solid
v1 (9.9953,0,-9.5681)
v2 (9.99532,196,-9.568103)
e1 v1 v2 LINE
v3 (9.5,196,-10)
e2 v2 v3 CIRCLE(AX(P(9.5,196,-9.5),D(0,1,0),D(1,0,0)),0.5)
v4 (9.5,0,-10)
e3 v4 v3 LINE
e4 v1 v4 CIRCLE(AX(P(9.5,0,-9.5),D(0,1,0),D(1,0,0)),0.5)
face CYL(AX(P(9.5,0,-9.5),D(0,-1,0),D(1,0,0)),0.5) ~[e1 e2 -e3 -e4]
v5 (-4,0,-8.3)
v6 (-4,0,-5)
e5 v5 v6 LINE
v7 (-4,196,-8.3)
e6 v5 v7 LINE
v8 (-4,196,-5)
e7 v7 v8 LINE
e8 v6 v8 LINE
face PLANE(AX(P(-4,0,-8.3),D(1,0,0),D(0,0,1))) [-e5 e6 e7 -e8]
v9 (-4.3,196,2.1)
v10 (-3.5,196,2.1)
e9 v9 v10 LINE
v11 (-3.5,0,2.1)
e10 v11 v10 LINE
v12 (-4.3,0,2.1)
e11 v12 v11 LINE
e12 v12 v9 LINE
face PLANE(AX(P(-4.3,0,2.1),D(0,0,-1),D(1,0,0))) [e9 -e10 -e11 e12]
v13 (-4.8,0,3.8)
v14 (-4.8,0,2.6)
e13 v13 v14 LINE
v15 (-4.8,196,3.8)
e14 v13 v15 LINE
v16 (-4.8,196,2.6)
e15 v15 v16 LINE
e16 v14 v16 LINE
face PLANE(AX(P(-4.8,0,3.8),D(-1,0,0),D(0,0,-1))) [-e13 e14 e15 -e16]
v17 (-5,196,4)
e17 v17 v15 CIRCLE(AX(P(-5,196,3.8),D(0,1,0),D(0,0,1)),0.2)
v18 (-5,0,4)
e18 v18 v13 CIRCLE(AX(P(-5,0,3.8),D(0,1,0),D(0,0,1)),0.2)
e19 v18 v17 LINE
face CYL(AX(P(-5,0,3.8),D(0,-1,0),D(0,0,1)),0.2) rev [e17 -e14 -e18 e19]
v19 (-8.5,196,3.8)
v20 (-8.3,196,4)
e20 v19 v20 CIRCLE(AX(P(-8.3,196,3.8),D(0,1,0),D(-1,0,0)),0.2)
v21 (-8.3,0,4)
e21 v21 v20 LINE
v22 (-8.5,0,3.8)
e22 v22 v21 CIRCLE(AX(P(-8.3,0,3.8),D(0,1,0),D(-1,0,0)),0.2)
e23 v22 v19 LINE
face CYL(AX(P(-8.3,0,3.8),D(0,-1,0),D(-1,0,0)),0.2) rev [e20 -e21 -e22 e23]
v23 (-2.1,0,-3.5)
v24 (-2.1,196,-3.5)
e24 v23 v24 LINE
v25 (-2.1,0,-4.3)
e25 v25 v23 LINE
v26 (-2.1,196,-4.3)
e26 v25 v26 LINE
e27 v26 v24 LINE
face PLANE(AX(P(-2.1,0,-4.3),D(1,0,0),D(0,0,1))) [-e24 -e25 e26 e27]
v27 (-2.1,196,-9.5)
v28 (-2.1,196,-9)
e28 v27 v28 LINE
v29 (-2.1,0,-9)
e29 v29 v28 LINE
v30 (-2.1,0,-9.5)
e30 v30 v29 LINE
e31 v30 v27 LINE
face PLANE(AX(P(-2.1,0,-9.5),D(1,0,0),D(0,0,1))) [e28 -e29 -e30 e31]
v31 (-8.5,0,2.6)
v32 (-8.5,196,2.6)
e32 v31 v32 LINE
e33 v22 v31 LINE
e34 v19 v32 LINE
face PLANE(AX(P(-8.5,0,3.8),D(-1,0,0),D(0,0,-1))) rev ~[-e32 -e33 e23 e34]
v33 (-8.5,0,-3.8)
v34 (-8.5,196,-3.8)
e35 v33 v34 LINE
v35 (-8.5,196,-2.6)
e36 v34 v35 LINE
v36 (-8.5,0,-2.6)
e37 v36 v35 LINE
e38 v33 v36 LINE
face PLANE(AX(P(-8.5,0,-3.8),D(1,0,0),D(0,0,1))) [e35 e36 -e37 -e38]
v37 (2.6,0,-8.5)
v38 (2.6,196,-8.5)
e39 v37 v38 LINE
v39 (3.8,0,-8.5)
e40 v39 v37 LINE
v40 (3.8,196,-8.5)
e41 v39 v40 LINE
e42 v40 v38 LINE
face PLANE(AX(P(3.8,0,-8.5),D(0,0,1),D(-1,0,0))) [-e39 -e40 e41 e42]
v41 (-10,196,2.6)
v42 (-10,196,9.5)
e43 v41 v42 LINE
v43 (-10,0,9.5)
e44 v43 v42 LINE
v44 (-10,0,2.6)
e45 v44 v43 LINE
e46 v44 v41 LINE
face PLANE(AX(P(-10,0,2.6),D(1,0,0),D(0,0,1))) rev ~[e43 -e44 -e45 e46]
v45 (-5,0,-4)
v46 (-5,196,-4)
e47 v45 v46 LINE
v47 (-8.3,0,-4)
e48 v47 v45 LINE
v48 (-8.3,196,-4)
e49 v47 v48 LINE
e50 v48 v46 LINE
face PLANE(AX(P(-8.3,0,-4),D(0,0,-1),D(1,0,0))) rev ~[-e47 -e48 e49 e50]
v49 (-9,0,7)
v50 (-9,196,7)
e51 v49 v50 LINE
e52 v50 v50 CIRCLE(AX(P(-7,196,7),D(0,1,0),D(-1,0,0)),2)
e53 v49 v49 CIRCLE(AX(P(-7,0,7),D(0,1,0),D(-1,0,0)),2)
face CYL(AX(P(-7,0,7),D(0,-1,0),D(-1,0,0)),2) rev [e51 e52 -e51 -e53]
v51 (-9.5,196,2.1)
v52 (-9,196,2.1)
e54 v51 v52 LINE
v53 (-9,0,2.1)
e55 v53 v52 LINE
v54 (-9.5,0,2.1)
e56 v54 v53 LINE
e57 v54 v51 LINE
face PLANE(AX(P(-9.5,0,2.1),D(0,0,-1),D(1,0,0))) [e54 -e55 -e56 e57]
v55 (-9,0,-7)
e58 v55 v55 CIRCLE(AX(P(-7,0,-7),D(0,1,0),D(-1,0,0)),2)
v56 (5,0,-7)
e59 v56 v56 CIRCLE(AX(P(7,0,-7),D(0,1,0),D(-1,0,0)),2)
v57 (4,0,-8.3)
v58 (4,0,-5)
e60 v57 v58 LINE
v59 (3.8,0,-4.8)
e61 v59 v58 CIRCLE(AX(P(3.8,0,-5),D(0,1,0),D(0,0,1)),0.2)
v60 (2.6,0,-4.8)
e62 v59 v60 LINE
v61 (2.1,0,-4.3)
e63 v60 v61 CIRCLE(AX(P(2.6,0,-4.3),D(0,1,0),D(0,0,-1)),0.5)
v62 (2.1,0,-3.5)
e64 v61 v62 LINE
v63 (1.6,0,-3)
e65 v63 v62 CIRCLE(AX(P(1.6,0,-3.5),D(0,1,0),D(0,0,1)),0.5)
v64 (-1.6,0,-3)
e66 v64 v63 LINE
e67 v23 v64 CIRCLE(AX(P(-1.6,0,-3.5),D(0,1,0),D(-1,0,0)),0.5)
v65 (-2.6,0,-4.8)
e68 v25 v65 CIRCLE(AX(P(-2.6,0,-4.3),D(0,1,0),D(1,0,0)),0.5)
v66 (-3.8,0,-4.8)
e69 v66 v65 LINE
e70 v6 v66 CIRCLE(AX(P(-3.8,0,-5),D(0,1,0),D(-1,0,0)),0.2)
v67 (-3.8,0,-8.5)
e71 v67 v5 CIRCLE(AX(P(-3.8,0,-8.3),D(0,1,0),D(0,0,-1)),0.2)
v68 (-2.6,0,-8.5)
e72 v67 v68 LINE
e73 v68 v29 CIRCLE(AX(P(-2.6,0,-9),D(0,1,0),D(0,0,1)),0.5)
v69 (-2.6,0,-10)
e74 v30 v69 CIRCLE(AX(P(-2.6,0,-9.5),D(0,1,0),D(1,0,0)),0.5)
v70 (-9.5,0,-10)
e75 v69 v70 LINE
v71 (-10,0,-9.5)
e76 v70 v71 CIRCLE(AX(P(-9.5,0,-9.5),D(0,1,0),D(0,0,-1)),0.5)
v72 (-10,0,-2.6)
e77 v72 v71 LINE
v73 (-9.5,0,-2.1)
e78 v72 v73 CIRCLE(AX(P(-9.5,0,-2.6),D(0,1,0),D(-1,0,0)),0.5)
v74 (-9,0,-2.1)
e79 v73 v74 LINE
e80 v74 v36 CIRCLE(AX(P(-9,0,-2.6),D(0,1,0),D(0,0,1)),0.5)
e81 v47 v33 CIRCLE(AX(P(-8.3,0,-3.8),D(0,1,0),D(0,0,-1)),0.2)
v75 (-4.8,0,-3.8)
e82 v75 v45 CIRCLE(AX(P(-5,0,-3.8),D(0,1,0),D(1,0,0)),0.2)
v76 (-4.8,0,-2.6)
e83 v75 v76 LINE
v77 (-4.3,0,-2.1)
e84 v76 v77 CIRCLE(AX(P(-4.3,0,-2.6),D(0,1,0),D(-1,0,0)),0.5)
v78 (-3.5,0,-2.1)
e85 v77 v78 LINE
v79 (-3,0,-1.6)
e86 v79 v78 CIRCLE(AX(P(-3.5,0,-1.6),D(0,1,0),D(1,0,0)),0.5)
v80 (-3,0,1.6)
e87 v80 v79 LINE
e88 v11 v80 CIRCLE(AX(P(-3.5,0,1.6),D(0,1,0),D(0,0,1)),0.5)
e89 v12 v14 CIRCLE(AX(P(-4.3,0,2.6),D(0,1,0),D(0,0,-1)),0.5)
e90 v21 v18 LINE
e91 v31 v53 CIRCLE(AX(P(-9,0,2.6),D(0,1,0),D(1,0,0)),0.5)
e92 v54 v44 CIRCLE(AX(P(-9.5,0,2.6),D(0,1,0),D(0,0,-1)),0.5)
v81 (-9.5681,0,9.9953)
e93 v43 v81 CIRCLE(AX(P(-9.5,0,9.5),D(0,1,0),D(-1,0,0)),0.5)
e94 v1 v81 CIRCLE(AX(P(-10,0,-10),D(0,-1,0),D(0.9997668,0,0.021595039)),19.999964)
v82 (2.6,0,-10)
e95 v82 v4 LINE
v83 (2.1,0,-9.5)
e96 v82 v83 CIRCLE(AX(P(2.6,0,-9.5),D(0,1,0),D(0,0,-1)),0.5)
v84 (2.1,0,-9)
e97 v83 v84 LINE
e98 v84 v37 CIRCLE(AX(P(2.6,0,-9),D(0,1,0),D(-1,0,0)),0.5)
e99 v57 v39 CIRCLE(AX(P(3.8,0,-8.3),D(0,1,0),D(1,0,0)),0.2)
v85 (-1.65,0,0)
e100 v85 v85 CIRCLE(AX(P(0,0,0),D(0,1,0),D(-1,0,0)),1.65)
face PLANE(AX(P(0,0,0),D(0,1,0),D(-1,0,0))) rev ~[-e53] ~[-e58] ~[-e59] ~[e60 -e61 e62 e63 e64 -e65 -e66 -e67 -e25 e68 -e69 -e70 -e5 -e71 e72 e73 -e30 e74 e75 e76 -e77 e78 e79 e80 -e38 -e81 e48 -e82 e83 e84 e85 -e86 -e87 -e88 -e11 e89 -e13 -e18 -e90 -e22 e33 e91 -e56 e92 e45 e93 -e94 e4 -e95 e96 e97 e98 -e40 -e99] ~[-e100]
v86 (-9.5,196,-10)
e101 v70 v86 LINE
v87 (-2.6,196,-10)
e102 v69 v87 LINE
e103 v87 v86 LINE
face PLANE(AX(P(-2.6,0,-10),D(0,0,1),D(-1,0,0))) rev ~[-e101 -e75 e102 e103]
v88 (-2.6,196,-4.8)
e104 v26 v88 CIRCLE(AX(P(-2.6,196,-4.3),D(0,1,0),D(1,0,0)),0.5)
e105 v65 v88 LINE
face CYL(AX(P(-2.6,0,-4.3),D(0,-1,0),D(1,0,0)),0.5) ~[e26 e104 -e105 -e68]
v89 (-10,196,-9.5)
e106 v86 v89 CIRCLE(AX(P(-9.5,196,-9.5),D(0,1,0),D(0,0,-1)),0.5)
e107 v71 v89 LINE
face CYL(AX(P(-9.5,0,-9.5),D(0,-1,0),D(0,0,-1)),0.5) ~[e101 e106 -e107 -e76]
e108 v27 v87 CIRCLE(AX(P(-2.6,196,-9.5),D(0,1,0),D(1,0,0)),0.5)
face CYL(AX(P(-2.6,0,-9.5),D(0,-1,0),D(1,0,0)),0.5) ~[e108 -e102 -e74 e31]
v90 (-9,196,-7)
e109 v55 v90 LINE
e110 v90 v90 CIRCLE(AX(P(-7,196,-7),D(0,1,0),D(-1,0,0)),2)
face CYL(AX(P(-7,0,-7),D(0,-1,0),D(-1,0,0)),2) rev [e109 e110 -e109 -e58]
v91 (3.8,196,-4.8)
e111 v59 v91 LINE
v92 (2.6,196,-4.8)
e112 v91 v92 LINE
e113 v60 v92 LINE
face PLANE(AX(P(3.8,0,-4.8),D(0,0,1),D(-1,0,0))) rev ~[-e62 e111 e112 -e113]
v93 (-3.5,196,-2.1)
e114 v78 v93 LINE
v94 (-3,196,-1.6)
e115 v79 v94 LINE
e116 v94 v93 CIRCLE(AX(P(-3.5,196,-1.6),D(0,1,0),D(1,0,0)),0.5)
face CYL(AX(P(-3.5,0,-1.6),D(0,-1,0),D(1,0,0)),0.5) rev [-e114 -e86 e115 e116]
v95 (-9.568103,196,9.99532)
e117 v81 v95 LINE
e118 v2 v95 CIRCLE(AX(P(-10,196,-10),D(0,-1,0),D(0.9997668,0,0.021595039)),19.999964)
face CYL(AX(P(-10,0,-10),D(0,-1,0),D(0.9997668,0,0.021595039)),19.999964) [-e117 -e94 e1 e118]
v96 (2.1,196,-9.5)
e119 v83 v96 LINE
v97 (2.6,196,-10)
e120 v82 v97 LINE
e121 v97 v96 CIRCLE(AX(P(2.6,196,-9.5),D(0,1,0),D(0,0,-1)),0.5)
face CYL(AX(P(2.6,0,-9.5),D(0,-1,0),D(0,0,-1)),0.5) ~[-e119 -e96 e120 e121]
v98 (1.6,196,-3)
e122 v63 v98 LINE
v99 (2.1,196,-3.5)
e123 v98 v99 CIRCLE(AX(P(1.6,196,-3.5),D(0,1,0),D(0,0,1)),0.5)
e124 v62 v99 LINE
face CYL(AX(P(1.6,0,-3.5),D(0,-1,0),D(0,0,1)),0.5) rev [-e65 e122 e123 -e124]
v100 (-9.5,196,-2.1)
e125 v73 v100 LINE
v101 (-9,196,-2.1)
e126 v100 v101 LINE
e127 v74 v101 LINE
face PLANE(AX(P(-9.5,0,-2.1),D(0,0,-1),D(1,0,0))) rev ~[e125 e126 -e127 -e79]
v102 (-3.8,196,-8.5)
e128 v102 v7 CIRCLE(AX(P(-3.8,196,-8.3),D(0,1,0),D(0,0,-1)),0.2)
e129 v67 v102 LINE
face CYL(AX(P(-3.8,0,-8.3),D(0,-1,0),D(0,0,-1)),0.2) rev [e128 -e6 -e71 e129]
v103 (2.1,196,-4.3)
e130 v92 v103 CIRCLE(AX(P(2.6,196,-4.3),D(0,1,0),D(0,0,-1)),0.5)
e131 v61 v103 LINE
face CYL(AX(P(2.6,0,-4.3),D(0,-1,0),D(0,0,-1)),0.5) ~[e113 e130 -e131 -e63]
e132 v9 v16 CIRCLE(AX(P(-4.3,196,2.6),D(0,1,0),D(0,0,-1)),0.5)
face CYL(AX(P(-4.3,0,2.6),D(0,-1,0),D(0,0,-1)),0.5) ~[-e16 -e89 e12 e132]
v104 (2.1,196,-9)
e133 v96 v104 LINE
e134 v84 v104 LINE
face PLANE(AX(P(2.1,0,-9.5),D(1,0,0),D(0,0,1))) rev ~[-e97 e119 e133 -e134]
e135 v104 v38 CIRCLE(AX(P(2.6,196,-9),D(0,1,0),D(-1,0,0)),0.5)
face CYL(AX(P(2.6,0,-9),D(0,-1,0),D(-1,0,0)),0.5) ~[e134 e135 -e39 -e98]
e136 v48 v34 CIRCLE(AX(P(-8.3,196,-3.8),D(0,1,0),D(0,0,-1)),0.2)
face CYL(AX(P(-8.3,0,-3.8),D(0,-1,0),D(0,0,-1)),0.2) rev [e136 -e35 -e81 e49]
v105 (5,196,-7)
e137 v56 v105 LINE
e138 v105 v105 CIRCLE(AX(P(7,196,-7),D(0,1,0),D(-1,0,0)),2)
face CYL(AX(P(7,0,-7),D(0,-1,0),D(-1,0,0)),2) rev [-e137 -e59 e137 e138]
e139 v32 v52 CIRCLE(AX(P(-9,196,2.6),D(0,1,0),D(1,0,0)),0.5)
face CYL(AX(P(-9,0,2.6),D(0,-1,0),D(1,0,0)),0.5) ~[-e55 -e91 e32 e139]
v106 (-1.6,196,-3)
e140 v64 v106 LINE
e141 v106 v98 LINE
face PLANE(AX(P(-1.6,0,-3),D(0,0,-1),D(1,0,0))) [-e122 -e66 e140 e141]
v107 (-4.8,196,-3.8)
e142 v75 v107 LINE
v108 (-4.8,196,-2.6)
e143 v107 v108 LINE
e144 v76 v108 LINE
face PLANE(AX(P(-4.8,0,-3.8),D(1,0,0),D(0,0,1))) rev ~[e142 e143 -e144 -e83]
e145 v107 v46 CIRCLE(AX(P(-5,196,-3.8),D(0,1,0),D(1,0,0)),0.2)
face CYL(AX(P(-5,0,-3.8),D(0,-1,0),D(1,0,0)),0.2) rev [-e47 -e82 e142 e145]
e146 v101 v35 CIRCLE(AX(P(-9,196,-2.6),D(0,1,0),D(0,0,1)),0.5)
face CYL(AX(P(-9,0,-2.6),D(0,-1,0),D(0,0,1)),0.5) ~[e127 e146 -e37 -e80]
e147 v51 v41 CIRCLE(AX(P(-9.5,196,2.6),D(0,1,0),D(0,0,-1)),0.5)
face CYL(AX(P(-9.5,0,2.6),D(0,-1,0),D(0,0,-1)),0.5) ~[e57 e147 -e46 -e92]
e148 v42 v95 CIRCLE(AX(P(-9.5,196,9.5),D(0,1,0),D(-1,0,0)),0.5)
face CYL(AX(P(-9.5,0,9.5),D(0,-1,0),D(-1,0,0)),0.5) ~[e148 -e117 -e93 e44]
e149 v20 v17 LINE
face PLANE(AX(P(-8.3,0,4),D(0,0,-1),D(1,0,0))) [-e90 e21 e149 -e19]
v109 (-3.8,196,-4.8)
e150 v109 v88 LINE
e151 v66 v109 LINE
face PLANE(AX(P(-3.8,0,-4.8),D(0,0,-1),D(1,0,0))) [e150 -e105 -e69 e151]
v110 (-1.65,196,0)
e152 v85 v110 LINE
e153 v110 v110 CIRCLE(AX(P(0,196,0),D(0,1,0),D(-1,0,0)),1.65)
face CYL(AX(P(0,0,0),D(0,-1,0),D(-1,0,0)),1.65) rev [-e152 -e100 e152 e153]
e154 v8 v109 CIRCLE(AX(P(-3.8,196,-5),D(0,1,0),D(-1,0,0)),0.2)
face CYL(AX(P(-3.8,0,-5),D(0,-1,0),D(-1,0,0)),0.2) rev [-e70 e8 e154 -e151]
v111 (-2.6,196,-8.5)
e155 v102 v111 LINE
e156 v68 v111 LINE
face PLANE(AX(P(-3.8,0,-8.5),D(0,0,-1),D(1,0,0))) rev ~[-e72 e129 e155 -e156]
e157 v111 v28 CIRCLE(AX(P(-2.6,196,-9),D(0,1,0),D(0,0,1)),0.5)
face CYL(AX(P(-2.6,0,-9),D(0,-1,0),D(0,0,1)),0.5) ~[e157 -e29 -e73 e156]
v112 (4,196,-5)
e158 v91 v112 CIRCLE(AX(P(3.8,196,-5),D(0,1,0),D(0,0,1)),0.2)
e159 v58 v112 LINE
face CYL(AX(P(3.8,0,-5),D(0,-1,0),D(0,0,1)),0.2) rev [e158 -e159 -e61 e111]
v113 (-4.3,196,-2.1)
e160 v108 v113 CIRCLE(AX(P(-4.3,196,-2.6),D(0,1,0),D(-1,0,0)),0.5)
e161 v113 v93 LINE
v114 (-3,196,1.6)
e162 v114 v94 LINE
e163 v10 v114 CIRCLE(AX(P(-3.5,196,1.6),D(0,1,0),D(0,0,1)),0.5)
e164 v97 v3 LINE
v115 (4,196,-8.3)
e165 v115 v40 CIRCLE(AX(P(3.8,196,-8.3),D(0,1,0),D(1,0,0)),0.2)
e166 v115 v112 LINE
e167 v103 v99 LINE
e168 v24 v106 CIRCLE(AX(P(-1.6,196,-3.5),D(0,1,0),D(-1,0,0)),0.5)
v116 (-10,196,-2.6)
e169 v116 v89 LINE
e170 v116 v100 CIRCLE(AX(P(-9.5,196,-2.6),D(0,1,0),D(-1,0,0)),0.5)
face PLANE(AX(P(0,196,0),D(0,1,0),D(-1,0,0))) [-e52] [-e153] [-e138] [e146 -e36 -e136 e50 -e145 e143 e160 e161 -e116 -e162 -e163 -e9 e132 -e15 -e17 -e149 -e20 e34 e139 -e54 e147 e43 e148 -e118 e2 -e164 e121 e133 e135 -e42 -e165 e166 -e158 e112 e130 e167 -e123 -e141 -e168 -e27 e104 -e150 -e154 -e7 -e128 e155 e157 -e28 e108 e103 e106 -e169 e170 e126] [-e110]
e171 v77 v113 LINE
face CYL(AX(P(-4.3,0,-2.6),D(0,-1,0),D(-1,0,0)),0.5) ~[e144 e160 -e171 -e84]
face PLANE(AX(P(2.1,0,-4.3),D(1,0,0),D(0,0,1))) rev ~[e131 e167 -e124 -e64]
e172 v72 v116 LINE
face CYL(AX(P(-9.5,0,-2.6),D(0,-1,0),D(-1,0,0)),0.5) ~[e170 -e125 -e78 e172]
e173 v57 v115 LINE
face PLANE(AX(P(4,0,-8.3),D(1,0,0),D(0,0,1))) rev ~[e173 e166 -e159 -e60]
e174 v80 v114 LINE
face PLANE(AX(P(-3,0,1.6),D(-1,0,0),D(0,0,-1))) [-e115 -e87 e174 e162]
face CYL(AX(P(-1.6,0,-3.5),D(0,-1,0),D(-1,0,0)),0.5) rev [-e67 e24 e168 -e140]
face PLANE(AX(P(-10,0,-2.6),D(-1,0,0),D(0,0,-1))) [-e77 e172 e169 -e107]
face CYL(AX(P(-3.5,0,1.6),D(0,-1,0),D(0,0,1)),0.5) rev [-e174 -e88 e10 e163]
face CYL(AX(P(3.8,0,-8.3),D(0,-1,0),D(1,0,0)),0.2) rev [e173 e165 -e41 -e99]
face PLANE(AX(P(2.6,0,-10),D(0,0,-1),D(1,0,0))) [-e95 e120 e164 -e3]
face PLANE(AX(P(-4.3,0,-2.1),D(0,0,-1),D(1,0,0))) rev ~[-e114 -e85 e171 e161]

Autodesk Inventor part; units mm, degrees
ref_plane "YZ Plane" through (0, 0, 0) normal (1, 0, 0) x (0, 1, 0)
ref_plane "開始平面" through (0, 0, 0) normal (0, 1, 0) x (-1, 0, 0)
ref_plane "終了平面" through (0, 196, 0) normal (0, 1, 0) x (-1, 0, 0)
sketch "スケッチ" plane through (0, 0, 0) normal (0, 1, 0) x (-1, 0, 0)
  line L0 (8.5, -3.8) -> (8.5, -2.6)
  line L1 (4, -8.3) -> (4, -5)
  circle A0 centre (7, -7) radius 2
  line L2 (10, -2.6) -> (10, -9.5)
  line L3 (2.6, -10) -> (9.5, -10)
  line L4 (2.1, -9.5) -> (2.1, -9)
  line L5 (8.5, -2.1) -> (8.5, -4)
  line L6 (3.8, -4.8) -> (2.6, -4.8)
  line L7 (4.8, -3.8) -> (4.8, -2.6)
  arc A1 (2.1, -4.3) -> (2.6, -4.8) centre (2.6, -4.3) ccw
  arc A2 (2.6, -8.5) -> (2.1, -9) centre (2.6, -9) ccw
  arc A3 (3.8, -8.5) -> (4, -8.3) centre (3.8, -8.3) ccw
  arc A4 (4, -5) -> (3.8, -4.8) centre (3.8, -5) ccw
  arc A5 (2.1, -3.5) -> (1.6, -3) centre (1.6, -3.5) ccw
  arc A6 (2.1, -9.5) -> (2.6, -10) centre (2.6, -9.5) ccw
  arc A7 (9.5, -10) -> (10, -9.5) centre (9.5, -9.5) ccw
  arc A8 (10, -2.6) -> (9.5, -2.1) centre (9.5, -2.6) ccw
  arc A9 (9, -2.1) -> (8.5, -2.6) centre (9, -2.6) ccw
  arc A10 (8.3, -4) -> (8.5, -3.8) centre (8.3, -3.8) ccw
  arc A11 (4.8, -3.8) -> (5, -4) centre (5, -3.8) ccw
  line L8 (4.3, -2.1) -> (3.5, -2.1)
  arc A12 (4.8, -2.6) -> (4.3, -2.1) centre (4.3, -2.6) ccw
  arc A13 (3, -1.6) -> (3.5, -2.1) centre (3.5, -1.6) ccw
  line L9 (2.1, -4.3) -> (2.1, -3.5)
  line L10 (3.8, -8.5) -> (2.6, -8.5)
  line L11 (9.5, -2.1) -> (9, -2.1)
  line L12 (8.3, -4) -> (5, -4)
  circle A14 centre (0, 0) radius 1.65
  arc A15 (8.5, 2.6) -> (9, 2.1) centre (9, 2.6) ccw
  line L13 (8.5, 3.8) -> (8.5, 2.6)
  arc A16 (8.5, 3.8) -> (8.3, 4) centre (8.3, 3.8) ccw
  line L14 (8.3, 4) -> (5, 4)
  line L15 (10, 2.6) -> (10, 9.5)
  arc A17 (10, 9.5) -> (9.5, 10) centre (9.5, 9.5) ccw
  circle A18 centre (7, 7) radius 2
  line L16 (4, 8.3) -> (4, 5)
  line L17 (2.6, 10) -> (9.5, 10)
  line L18 (9.5, 2.1) -> (9, 2.1)
  arc A19 (9.5, 2.1) -> (10, 2.6) centre (9.5, 2.6) ccw
  line L19 (3.8, 8.5) -> (2.6, 8.5)
  line L20 (4.8, 3.8) -> (4.8, 2.6)
  arc A20 (4.3, 2.1) -> (4.8, 2.6) centre (4.3, 2.6) ccw
  line L21 (2.1, 8.5) -> (4, 8.5)
  arc A21 (4, 8.3) -> (3.8, 8.5) centre (3.8, 8.3) ccw
  arc A22 (2.1, 9) -> (2.6, 8.5) centre (2.6, 9) ccw
  arc A23 (2.6, 10) -> (2.1, 9.5) centre (2.6, 9.5) ccw
  line L22 (2.1, 9.5) -> (2.1, 9)
  arc A24 (1.6, 3) -> (2.1, 3.5) centre (1.6, 3.5) ccw
  line L23 (3.8, 4.8) -> (2.6, 4.8)
  arc A25 (5, 4) -> (4.8, 3.8) centre (5, 3.8) ccw
  arc A26 (3.8, 4.8) -> (4, 5) centre (3.8, 5) ccw
  line L24 (4.3, 2.1) -> (3.5, 2.1)
  arc A27 (2.6, 4.8) -> (2.1, 4.3) centre (2.6, 4.3) ccw
  line L25 (2.1, 4.3) -> (2.1, 3.5)
  arc A28 (3.5, 2.1) -> (3, 1.6) centre (3.5, 1.6) ccw
  arc A29 (-2.6, 8.5) -> (-2.1, 9) centre (-2.6, 9) ccw
  line L26 (-3.8, 8.5) -> (-2.6, 8.5)
  arc A30 (-3.8, 8.5) -> (-4, 8.3) centre (-3.8, 8.3) ccw
  line L27 (-4, 8.3) -> (-4, 5)
  line L28 (-2.6, 10) -> (-9.5, 10)
  arc A31 (-9.5, 10) -> (-10, 9.5) centre (-9.5, 9.5) ccw
  circle A32 centre (-7, 7) radius 2
  line L29 (-8.3, 4) -> (-5, 4)
  line L30 (-10, 2.6) -> (-10, 9.5)
  line L31 (-2.1, 9.5) -> (-2.1, 9)
  arc A33 (-2.1, 9.5) -> (-2.6, 10) centre (-2.6, 9.5) ccw
  line L32 (-8.5, 3.8) -> (-8.5, 2.6)
  line L33 (-3.8, 4.8) -> (-2.6, 4.8)
  arc A34 (-2.1, 4.3) -> (-2.6, 4.8) centre (-2.6, 4.3) ccw
  line L34 (-8.5, 2.1) -> (-8.5, 4)
  arc A35 (-8.3, 4) -> (-8.5, 3.8) centre (-8.3, 3.8) ccw
  arc A36 (-9, 2.1) -> (-8.5, 2.6) centre (-9, 2.6) ccw
  arc A37 (-10, 2.6) -> (-9.5, 2.1) centre (-9.5, 2.6) ccw
  line L35 (-9.5, 2.1) -> (-9, 2.1)
  arc A38 (-3, 1.6) -> (-3.5, 2.1) centre (-3.5, 1.6) ccw
  line L36 (-4.8, 3.8) -> (-4.8, 2.6)
  arc A39 (-4, 5) -> (-3.8, 4.8) centre (-3.8, 5) ccw
  arc A40 (-4.8, 3.8) -> (-5, 4) centre (-5, 3.8) ccw
  line L37 (-2.1, 4.3) -> (-2.1, 3.5)
  arc A41 (-4.8, 2.6) -> (-4.3, 2.1) centre (-4.3, 2.6) ccw
  line L38 (-4.3, 2.1) -> (-3.5, 2.1)
  arc A42 (-2.1, 3.5) -> (-1.6, 3) centre (-1.6, 3.5) ccw
  arc A43 (-8.5, -2.6) -> (-9, -2.1) centre (-9, -2.6) ccw
  line L39 (-8.5, -3.8) -> (-8.5, -2.6)
  arc A44 (-8.5, -3.8) -> (-8.3, -4) centre (-8.3, -3.8) ccw
  line L40 (-8.3, -4) -> (-5, -4)
  line L41 (-10, -2.6) -> (-10, -9.5)
  arc A45 (-10, -9.5) -> (-9.5, -10) centre (-9.5, -9.5) ccw
  circle A46 centre (-7, -7) radius 2
  line L42 (-4, -8.3) -> (-4, -5)
  line L43 (-2.6, -10) -> (-9.5, -10)
  line L44 (-9.5, -2.1) -> (-9, -2.1)
  arc A47 (-9.5, -2.1) -> (-10, -2.6) centre (-9.5, -2.6) ccw
  line L45 (-3.8, -8.5) -> (-2.6, -8.5)
  line L46 (-4.8, -3.8) -> (-4.8, -2.6)
  arc A48 (-4.3, -2.1) -> (-4.8, -2.6) centre (-4.3, -2.6) ccw
  line L47 (-2.1, -8.5) -> (-4, -8.5)
  arc A49 (-4, -8.3) -> (-3.8, -8.5) centre (-3.8, -8.3) ccw
  arc A50 (-2.1, -9) -> (-2.6, -8.5) centre (-2.6, -9) ccw
  arc A51 (-2.6, -10) -> (-2.1, -9.5) centre (-2.6, -9.5) ccw
  line L48 (-2.1, -9.5) -> (-2.1, -9)
  arc A52 (-1.6, -3) -> (-2.1, -3.5) centre (-1.6, -3.5) ccw
  line L49 (-3.8, -4.8) -> (-2.6, -4.8)
  arc A53 (-5, -4) -> (-4.8, -3.8) centre (-5, -3.8) ccw
  arc A54 (-3.8, -4.8) -> (-4, -5) centre (-3.8, -5) ccw
  line L50 (-4.3, -2.1) -> (-3.5, -2.1)
  arc A55 (-2.6, -4.8) -> (-2.1, -4.3) centre (-2.6, -4.3) ccw
  line L51 (-2.1, -4.3) -> (-2.1, -3.5)
  arc A56 (-3.5, -2.1) -> (-3, -1.6) centre (-3.5, -1.6) ccw
  line L52 (1.6, -3) -> (-1.6, -3)
  line L53 (-3, -1.6) -> (-3, 1.6)
  line L54 (-1.6, 3) -> (1.6, 3)
  line L55 (3, 1.6) -> (3, -1.6)
  point P0 (2.1, -10)
  point P1 (10, 2.1)
  point P2 (-2.1, 10)
  point P3 (-10, -2.1)
  dimension "d12" = 4
  dimension "d14" = 3.7
  dimension "d16" = 0.5
  dimension "d17" = 0.5
  dimension "d18" = 0.2
  dimension "d19" = 0.5
  dimension "d20" = 0.5
  dimension "d24" = 0.5
  dimension "d25" = 0.2
  dimension "d28" = 0.5
  dimension "d31" = 1.5
  dimension "d36" = 3.7
  dimension "d37" = 1.5
  dimension "d58" = 3.3
  dimension "d65" = 10
  dimension "d67" = 2.1
  dimension "d68" = 2.1
  dimension "d69" = 1.9
  dimension "d70" = 7
  dimension "d72" = 2.1
  dimension "d73" = 2.1
  dimension "d74" = 1.9
  dimension "d75" = 7
  dimension "d76" = 10
  dimension "d80" = 360
  dimension "d82" = 3
extrude "ボディ" add sketch "スケッチ" along normal up to surface (196 mm away) from surface at 0
sketch "スケッチ4" plane through (0, 0, 0) normal (0, 1, 0) x (-1, 0, 0)
  line L0 (0, 0) -> (10, 0)
ref_plane "作業平面4" through (0, 0, 0) normal (0, 0, -1) x (-1, 0, 0)
sketch "スケッチ5" plane through (0, 0, 0) normal (0, 0, -1) x (-1, 0, 0)
  line L0 (-2, 0) -> (12, 0)
  line L1 (-2, 196) -> (12, 196)
sketch "スケッチ9" plane through (2.6, 0, -10) normal (0, -1, 0) x (1, 0, 0)
  circle A0 centre (4.4, 3) radius 2 projected
  circle A1 centre (4.4, 17) radius 2 projected
  circle A2 centre (-9.6, 17) radius 2 projected
  circle A3 centre (-9.6, 3) radius 2 projected
  circle A4 centre (-2.6, 10) radius 1.65 projected
  arc A5 (-5.2, 5.2) -> (-4.7, 5.7) centre (-5.2, 5.7) ccw projected
  line L0 (-4.7, 5.7) -> (-4.7, 6.5) projected
  arc A6 (-4.2, 7) -> (-4.7, 6.5) centre (-4.2, 6.5) ccw projected
  line L1 (-4.2, 7) -> (-1, 7) projected
  arc A7 (-0.5, 6.5) -> (-1, 7) centre (-1, 6.5) ccw projected
  line L2 (-0.5, 6.5) -> (-0.5, 5.7) projected
  arc A8 (-0.5, 5.7) -> (0, 5.2) centre (0, 5.7) ccw projected
  line L3 (0, 5.2) -> (1.2, 5.2) projected
  arc A9 (1.4, 5) -> (1.2, 5.2) centre (1.2, 5) ccw projected
  line L4 (1.4, 5) -> (1.4, 1.7) projected
  arc A10 (1.2, 1.5) -> (1.4, 1.7) centre (1.2, 1.7) ccw projected
  line L5 (1.2, 1.5) -> (0, 1.5) projected
  arc A11 (0, 1.5) -> (-0.5, 1) centre (0, 1) ccw projected
  line L6 (-0.5, 1) -> (-0.5, 0.5) projected
  arc A12 (-0.5, 0.5) -> (0, 0) centre (0, 0.5) ccw projected
  line L7 (0, 0) -> (6.9, 0) projected
  arc A13 (6.9, 0) -> (7.4, 0.5) centre (6.9, 0.5) ccw projected
  line L8 (7.4, 0.5) -> (7.4, 7.4) projected
  arc A14 (7.4, 7.4) -> (6.9, 7.9) centre (6.9, 7.4) ccw projected
  line L9 (6.9, 7.9) -> (6.4, 7.9) projected
  arc A15 (6.4, 7.9) -> (5.9, 7.4) centre (6.4, 7.4) ccw projected
  line L10 (5.9, 7.4) -> (5.9, 6.2) projected
  arc A16 (5.7, 6) -> (5.9, 6.2) centre (5.7, 6.2) ccw projected
  line L11 (5.7, 6) -> (2.4, 6) projected
  arc A17 (2.2, 6.2) -> (2.4, 6) centre (2.4, 6.2) ccw projected
  line L12 (2.2, 6.2) -> (2.2, 7.4) projected
  arc A18 (2.2, 7.4) -> (1.7, 7.9) centre (1.7, 7.4) ccw projected
  line L13 (1.7, 7.9) -> (0.9, 7.9) projected
  arc A19 (0.4, 8.4) -> (0.9, 7.9) centre (0.9, 8.4) ccw projected
  line L14 (0.4, 8.4) -> (0.4, 11.6) projected
  arc A20 (0.9, 12.1) -> (0.4, 11.6) centre (0.9, 11.6) ccw projected
  line L15 (0.9, 12.1) -> (1.7, 12.1) projected
  arc A21 (1.7, 12.1) -> (2.2, 12.6) centre (1.7, 12.6) ccw projected
  line L16 (2.2, 12.6) -> (2.2, 13.8) projected
  arc A22 (2.4, 14) -> (2.2, 13.8) centre (2.4, 13.8) ccw projected
  line L17 (2.4, 14) -> (5.7, 14) projected
  arc A23 (5.9, 13.8) -> (5.7, 14) centre (5.7, 13.8) ccw projected
  line L18 (5.9, 13.8) -> (5.9, 12.6) projected
  arc A24 (5.9, 12.6) -> (6.4, 12.1) centre (6.4, 12.6) ccw projected
  line L19 (6.4, 12.1) -> (6.9, 12.1) projected
  arc A25 (6.9, 12.1) -> (7.4, 12.6) centre (6.9, 12.6) ccw projected
  line L20 (7.4, 12.6) -> (7.4, 19.5) projected
  arc A26 (7.4, 19.5) -> (6.9, 20) centre (6.9, 19.5) ccw projected
  line L21 (6.9, 20) -> (0, 20) projected
  arc A27 (0, 20) -> (-0.5, 19.5) centre (0, 19.5) ccw projected
  line L22 (-0.5, 19.5) -> (-0.5, 19) projected
  arc A28 (-0.5, 19) -> (0, 18.5) centre (0, 19) ccw projected
  line L23 (0, 18.5) -> (1.2, 18.5) projected
  arc A29 (1.4, 18.3) -> (1.2, 18.5) centre (1.2, 18.3) ccw projected
  line L24 (1.4, 18.3) -> (1.4, 15) projected
  arc A30 (1.2, 14.8) -> (1.4, 15) centre (1.2, 15) ccw projected
  line L25 (1.2, 14.8) -> (0, 14.8) projected
  arc A31 (0, 14.8) -> (-0.5, 14.3) centre (0, 14.3) ccw projected
  line L26 (-0.5, 14.3) -> (-0.5, 13.5) projected
  arc A32 (-1, 13) -> (-0.5, 13.5) centre (-1, 13.5) ccw projected
  line L27 (-1, 13) -> (-4.2, 13) projected
  arc A33 (-4.7, 13.5) -> (-4.2, 13) centre (-4.2, 13.5) ccw projected
  line L28 (-4.7, 13.5) -> (-4.7, 14.3) projected
  arc A34 (-4.7, 14.3) -> (-5.2, 14.8) centre (-5.2, 14.3) ccw projected
  line L29 (-5.2, 14.8) -> (-6.4, 14.8) projected
  arc A35 (-6.6, 15) -> (-6.4, 14.8) centre (-6.4, 15) ccw projected
  line L30 (-6.6, 15) -> (-6.6, 18.3) projected
  arc A36 (-6.4, 18.5) -> (-6.6, 18.3) centre (-6.4, 18.3) ccw projected
  line L31 (-6.4, 18.5) -> (-5.2, 18.5) projected
  arc A37 (-5.2, 18.5) -> (-4.7, 19) centre (-5.2, 19) ccw projected
  line L32 (-4.7, 19) -> (-4.7, 19.5) projected
  arc A38 (-4.7, 19.5) -> (-5.2, 20) centre (-5.2, 19.5) ccw projected
  line L33 (-5.2, 20) -> (-12.1, 20) projected
  arc A39 (-12.1, 20) -> (-12.6, 19.5) centre (-12.1, 19.5) ccw projected
  line L34 (-12.6, 19.5) -> (-12.6, 12.6) projected
  arc A40 (-12.6, 12.6) -> (-12.1, 12.1) centre (-12.1, 12.6) ccw projected
  line L35 (-12.1, 12.1) -> (-11.6, 12.1) projected
  arc A41 (-11.6, 12.1) -> (-11.1, 12.6) centre (-11.6, 12.6) ccw projected
  line L36 (-11.1, 12.6) -> (-11.1, 13.8) projected
  arc A42 (-10.9, 14) -> (-11.1, 13.8) centre (-10.9, 13.8) ccw projected
  line L37 (-10.9, 14) -> (-7.6, 14) projected
  arc A43 (-7.4, 13.8) -> (-7.6, 14) centre (-7.6, 13.8) ccw projected
  line L38 (-7.4, 13.8) -> (-7.4, 12.6) projected
  arc A44 (-7.4, 12.6) -> (-6.9, 12.1) centre (-6.9, 12.6) ccw projected
  line L39 (-6.9, 12.1) -> (-6.1, 12.1) projected
  arc A45 (-5.6, 11.6) -> (-6.1, 12.1) centre (-6.1, 11.6) ccw projected
  line L40 (-5.6, 11.6) -> (-5.6, 8.4) projected
  arc A46 (-6.1, 7.9) -> (-5.6, 8.4) centre (-6.1, 8.4) ccw projected
  line L41 (-6.1, 7.9) -> (-6.9, 7.9) projected
  arc A47 (-6.9, 7.9) -> (-7.4, 7.4) centre (-6.9, 7.4) ccw projected
  line L42 (-7.4, 7.4) -> (-7.4, 6.2) projected
  arc A48 (-7.6, 6) -> (-7.4, 6.2) centre (-7.6, 6.2) ccw projected
  line L43 (-7.6, 6) -> (-10.9, 6) projected
  arc A49 (-11.1, 6.2) -> (-10.9, 6) centre (-10.9, 6.2) ccw projected
  line L44 (-11.1, 6.2) -> (-11.1, 7.4) projected
  arc A50 (-11.1, 7.4) -> (-11.6, 7.9) centre (-11.6, 7.4) ccw projected
  line L45 (-11.6, 7.9) -> (-12.1, 7.9) projected
  arc A51 (-12.1, 7.9) -> (-12.6, 7.4) centre (-12.1, 7.4) ccw projected
  line L46 (-12.6, 7.4) -> (-12.6, 0.5) projected
  arc A52 (-12.6, 0.5) -> (-12.1, 0) centre (-12.1, 0.5) ccw projected
  line L47 (-12.1, 0) -> (-5.2, 0) projected
  arc A53 (-5.2, 0) -> (-4.7, 0.5) centre (-5.2, 0.5) ccw projected
  line L48 (-4.7, 0.5) -> (-4.7, 1) projected
  arc A54 (-4.7, 1) -> (-5.2, 1.5) centre (-5.2, 1) ccw projected
  line L49 (-5.2, 1.5) -> (-6.4, 1.5) projected
  arc A55 (-6.6, 1.7) -> (-6.4, 1.5) centre (-6.4, 1.7) ccw projected
  line L50 (-6.6, 1.7) -> (-6.6, 5) projected
  arc A56 (-6.4, 5.2) -> (-6.6, 5) centre (-6.4, 5) ccw projected
  line L51 (-6.4, 5.2) -> (-5.2, 5.2) projected
  line L52 (6.9, 20) -> (0, 20) projected
  line L53 (-5.2, 20) -> (0, 20)
  line L54 (7.4, 12.6) -> (7.4, 19.5) projected
  line L55 (7.4, 12.6) -> (7.4, 7.4)
extrude "押し出し7" add sketch "スケッチ9" against normal blind 196 contours A1 | A14 L9 A15 L10 A16 L11 A17 L12 A18 L13 A19 L14 A20 L15 A21 L16 A22 L17 A23 L18 A24 L19 A25 L55 | A27 L22 A28 L23 A29 L24 A30 L25 A31 L26 A32 L27 A33 L28 A34 L29 A35 L30 A36 L31 A37 L32 A38 L53
sketch "スケッチ10" plane through (-9.5, 0, 10) normal (0, -1, 0) x (1, 0, 0)
  line L0 (-0.5, -12.6) -> (-0.5, -19.5) construction
  line L1 (0, -20) -> (6.9, -20) construction
  arc A0 (-0.5, -19.5) -> (0, -20) centre (0, -19.5) ccw construction
  line L2 (-0.5, -19.5) -> (-0.5, -20) construction
  line L3 (-0.5, -20) -> (0, -20) construction
  arc A1 (0, 0) -> (-0.5, -0.5) centre (0, -0.5) ccw projected
  arc A2 (19.4953, -19.5681) -> (-0.0681, -0.0047) centre (-0.5, -20) ccw
  line L4 (19, 0) -> (0, 0) projected
  arc A3 (19.5, -0.5) -> (19, 0) centre (19, -0.5) ccw projected
  line L5 (19.5, -19.5) -> (19.5, -0.5) projected
  arc A4 (19, -20) -> (19.5, -19.5) centre (19, -19.5) ccw projected
  point P0 (9.5, -10)
  dimension "d101" = 20
extrude "押し出し8" cut sketch "スケッチ10" against normal through all
equation "\"d99\" = Length"
equation "\"Length\" = 196"
equation "\"G_OFFSET_START\" = 0"
equation "\"G_OFFSET_END\" = 0"
equation "\"d86\" = Length + G_OFFSET_END"
equation "\"G_L\" = 196"
properties part number "r150" material "アルミニウム 6061"
